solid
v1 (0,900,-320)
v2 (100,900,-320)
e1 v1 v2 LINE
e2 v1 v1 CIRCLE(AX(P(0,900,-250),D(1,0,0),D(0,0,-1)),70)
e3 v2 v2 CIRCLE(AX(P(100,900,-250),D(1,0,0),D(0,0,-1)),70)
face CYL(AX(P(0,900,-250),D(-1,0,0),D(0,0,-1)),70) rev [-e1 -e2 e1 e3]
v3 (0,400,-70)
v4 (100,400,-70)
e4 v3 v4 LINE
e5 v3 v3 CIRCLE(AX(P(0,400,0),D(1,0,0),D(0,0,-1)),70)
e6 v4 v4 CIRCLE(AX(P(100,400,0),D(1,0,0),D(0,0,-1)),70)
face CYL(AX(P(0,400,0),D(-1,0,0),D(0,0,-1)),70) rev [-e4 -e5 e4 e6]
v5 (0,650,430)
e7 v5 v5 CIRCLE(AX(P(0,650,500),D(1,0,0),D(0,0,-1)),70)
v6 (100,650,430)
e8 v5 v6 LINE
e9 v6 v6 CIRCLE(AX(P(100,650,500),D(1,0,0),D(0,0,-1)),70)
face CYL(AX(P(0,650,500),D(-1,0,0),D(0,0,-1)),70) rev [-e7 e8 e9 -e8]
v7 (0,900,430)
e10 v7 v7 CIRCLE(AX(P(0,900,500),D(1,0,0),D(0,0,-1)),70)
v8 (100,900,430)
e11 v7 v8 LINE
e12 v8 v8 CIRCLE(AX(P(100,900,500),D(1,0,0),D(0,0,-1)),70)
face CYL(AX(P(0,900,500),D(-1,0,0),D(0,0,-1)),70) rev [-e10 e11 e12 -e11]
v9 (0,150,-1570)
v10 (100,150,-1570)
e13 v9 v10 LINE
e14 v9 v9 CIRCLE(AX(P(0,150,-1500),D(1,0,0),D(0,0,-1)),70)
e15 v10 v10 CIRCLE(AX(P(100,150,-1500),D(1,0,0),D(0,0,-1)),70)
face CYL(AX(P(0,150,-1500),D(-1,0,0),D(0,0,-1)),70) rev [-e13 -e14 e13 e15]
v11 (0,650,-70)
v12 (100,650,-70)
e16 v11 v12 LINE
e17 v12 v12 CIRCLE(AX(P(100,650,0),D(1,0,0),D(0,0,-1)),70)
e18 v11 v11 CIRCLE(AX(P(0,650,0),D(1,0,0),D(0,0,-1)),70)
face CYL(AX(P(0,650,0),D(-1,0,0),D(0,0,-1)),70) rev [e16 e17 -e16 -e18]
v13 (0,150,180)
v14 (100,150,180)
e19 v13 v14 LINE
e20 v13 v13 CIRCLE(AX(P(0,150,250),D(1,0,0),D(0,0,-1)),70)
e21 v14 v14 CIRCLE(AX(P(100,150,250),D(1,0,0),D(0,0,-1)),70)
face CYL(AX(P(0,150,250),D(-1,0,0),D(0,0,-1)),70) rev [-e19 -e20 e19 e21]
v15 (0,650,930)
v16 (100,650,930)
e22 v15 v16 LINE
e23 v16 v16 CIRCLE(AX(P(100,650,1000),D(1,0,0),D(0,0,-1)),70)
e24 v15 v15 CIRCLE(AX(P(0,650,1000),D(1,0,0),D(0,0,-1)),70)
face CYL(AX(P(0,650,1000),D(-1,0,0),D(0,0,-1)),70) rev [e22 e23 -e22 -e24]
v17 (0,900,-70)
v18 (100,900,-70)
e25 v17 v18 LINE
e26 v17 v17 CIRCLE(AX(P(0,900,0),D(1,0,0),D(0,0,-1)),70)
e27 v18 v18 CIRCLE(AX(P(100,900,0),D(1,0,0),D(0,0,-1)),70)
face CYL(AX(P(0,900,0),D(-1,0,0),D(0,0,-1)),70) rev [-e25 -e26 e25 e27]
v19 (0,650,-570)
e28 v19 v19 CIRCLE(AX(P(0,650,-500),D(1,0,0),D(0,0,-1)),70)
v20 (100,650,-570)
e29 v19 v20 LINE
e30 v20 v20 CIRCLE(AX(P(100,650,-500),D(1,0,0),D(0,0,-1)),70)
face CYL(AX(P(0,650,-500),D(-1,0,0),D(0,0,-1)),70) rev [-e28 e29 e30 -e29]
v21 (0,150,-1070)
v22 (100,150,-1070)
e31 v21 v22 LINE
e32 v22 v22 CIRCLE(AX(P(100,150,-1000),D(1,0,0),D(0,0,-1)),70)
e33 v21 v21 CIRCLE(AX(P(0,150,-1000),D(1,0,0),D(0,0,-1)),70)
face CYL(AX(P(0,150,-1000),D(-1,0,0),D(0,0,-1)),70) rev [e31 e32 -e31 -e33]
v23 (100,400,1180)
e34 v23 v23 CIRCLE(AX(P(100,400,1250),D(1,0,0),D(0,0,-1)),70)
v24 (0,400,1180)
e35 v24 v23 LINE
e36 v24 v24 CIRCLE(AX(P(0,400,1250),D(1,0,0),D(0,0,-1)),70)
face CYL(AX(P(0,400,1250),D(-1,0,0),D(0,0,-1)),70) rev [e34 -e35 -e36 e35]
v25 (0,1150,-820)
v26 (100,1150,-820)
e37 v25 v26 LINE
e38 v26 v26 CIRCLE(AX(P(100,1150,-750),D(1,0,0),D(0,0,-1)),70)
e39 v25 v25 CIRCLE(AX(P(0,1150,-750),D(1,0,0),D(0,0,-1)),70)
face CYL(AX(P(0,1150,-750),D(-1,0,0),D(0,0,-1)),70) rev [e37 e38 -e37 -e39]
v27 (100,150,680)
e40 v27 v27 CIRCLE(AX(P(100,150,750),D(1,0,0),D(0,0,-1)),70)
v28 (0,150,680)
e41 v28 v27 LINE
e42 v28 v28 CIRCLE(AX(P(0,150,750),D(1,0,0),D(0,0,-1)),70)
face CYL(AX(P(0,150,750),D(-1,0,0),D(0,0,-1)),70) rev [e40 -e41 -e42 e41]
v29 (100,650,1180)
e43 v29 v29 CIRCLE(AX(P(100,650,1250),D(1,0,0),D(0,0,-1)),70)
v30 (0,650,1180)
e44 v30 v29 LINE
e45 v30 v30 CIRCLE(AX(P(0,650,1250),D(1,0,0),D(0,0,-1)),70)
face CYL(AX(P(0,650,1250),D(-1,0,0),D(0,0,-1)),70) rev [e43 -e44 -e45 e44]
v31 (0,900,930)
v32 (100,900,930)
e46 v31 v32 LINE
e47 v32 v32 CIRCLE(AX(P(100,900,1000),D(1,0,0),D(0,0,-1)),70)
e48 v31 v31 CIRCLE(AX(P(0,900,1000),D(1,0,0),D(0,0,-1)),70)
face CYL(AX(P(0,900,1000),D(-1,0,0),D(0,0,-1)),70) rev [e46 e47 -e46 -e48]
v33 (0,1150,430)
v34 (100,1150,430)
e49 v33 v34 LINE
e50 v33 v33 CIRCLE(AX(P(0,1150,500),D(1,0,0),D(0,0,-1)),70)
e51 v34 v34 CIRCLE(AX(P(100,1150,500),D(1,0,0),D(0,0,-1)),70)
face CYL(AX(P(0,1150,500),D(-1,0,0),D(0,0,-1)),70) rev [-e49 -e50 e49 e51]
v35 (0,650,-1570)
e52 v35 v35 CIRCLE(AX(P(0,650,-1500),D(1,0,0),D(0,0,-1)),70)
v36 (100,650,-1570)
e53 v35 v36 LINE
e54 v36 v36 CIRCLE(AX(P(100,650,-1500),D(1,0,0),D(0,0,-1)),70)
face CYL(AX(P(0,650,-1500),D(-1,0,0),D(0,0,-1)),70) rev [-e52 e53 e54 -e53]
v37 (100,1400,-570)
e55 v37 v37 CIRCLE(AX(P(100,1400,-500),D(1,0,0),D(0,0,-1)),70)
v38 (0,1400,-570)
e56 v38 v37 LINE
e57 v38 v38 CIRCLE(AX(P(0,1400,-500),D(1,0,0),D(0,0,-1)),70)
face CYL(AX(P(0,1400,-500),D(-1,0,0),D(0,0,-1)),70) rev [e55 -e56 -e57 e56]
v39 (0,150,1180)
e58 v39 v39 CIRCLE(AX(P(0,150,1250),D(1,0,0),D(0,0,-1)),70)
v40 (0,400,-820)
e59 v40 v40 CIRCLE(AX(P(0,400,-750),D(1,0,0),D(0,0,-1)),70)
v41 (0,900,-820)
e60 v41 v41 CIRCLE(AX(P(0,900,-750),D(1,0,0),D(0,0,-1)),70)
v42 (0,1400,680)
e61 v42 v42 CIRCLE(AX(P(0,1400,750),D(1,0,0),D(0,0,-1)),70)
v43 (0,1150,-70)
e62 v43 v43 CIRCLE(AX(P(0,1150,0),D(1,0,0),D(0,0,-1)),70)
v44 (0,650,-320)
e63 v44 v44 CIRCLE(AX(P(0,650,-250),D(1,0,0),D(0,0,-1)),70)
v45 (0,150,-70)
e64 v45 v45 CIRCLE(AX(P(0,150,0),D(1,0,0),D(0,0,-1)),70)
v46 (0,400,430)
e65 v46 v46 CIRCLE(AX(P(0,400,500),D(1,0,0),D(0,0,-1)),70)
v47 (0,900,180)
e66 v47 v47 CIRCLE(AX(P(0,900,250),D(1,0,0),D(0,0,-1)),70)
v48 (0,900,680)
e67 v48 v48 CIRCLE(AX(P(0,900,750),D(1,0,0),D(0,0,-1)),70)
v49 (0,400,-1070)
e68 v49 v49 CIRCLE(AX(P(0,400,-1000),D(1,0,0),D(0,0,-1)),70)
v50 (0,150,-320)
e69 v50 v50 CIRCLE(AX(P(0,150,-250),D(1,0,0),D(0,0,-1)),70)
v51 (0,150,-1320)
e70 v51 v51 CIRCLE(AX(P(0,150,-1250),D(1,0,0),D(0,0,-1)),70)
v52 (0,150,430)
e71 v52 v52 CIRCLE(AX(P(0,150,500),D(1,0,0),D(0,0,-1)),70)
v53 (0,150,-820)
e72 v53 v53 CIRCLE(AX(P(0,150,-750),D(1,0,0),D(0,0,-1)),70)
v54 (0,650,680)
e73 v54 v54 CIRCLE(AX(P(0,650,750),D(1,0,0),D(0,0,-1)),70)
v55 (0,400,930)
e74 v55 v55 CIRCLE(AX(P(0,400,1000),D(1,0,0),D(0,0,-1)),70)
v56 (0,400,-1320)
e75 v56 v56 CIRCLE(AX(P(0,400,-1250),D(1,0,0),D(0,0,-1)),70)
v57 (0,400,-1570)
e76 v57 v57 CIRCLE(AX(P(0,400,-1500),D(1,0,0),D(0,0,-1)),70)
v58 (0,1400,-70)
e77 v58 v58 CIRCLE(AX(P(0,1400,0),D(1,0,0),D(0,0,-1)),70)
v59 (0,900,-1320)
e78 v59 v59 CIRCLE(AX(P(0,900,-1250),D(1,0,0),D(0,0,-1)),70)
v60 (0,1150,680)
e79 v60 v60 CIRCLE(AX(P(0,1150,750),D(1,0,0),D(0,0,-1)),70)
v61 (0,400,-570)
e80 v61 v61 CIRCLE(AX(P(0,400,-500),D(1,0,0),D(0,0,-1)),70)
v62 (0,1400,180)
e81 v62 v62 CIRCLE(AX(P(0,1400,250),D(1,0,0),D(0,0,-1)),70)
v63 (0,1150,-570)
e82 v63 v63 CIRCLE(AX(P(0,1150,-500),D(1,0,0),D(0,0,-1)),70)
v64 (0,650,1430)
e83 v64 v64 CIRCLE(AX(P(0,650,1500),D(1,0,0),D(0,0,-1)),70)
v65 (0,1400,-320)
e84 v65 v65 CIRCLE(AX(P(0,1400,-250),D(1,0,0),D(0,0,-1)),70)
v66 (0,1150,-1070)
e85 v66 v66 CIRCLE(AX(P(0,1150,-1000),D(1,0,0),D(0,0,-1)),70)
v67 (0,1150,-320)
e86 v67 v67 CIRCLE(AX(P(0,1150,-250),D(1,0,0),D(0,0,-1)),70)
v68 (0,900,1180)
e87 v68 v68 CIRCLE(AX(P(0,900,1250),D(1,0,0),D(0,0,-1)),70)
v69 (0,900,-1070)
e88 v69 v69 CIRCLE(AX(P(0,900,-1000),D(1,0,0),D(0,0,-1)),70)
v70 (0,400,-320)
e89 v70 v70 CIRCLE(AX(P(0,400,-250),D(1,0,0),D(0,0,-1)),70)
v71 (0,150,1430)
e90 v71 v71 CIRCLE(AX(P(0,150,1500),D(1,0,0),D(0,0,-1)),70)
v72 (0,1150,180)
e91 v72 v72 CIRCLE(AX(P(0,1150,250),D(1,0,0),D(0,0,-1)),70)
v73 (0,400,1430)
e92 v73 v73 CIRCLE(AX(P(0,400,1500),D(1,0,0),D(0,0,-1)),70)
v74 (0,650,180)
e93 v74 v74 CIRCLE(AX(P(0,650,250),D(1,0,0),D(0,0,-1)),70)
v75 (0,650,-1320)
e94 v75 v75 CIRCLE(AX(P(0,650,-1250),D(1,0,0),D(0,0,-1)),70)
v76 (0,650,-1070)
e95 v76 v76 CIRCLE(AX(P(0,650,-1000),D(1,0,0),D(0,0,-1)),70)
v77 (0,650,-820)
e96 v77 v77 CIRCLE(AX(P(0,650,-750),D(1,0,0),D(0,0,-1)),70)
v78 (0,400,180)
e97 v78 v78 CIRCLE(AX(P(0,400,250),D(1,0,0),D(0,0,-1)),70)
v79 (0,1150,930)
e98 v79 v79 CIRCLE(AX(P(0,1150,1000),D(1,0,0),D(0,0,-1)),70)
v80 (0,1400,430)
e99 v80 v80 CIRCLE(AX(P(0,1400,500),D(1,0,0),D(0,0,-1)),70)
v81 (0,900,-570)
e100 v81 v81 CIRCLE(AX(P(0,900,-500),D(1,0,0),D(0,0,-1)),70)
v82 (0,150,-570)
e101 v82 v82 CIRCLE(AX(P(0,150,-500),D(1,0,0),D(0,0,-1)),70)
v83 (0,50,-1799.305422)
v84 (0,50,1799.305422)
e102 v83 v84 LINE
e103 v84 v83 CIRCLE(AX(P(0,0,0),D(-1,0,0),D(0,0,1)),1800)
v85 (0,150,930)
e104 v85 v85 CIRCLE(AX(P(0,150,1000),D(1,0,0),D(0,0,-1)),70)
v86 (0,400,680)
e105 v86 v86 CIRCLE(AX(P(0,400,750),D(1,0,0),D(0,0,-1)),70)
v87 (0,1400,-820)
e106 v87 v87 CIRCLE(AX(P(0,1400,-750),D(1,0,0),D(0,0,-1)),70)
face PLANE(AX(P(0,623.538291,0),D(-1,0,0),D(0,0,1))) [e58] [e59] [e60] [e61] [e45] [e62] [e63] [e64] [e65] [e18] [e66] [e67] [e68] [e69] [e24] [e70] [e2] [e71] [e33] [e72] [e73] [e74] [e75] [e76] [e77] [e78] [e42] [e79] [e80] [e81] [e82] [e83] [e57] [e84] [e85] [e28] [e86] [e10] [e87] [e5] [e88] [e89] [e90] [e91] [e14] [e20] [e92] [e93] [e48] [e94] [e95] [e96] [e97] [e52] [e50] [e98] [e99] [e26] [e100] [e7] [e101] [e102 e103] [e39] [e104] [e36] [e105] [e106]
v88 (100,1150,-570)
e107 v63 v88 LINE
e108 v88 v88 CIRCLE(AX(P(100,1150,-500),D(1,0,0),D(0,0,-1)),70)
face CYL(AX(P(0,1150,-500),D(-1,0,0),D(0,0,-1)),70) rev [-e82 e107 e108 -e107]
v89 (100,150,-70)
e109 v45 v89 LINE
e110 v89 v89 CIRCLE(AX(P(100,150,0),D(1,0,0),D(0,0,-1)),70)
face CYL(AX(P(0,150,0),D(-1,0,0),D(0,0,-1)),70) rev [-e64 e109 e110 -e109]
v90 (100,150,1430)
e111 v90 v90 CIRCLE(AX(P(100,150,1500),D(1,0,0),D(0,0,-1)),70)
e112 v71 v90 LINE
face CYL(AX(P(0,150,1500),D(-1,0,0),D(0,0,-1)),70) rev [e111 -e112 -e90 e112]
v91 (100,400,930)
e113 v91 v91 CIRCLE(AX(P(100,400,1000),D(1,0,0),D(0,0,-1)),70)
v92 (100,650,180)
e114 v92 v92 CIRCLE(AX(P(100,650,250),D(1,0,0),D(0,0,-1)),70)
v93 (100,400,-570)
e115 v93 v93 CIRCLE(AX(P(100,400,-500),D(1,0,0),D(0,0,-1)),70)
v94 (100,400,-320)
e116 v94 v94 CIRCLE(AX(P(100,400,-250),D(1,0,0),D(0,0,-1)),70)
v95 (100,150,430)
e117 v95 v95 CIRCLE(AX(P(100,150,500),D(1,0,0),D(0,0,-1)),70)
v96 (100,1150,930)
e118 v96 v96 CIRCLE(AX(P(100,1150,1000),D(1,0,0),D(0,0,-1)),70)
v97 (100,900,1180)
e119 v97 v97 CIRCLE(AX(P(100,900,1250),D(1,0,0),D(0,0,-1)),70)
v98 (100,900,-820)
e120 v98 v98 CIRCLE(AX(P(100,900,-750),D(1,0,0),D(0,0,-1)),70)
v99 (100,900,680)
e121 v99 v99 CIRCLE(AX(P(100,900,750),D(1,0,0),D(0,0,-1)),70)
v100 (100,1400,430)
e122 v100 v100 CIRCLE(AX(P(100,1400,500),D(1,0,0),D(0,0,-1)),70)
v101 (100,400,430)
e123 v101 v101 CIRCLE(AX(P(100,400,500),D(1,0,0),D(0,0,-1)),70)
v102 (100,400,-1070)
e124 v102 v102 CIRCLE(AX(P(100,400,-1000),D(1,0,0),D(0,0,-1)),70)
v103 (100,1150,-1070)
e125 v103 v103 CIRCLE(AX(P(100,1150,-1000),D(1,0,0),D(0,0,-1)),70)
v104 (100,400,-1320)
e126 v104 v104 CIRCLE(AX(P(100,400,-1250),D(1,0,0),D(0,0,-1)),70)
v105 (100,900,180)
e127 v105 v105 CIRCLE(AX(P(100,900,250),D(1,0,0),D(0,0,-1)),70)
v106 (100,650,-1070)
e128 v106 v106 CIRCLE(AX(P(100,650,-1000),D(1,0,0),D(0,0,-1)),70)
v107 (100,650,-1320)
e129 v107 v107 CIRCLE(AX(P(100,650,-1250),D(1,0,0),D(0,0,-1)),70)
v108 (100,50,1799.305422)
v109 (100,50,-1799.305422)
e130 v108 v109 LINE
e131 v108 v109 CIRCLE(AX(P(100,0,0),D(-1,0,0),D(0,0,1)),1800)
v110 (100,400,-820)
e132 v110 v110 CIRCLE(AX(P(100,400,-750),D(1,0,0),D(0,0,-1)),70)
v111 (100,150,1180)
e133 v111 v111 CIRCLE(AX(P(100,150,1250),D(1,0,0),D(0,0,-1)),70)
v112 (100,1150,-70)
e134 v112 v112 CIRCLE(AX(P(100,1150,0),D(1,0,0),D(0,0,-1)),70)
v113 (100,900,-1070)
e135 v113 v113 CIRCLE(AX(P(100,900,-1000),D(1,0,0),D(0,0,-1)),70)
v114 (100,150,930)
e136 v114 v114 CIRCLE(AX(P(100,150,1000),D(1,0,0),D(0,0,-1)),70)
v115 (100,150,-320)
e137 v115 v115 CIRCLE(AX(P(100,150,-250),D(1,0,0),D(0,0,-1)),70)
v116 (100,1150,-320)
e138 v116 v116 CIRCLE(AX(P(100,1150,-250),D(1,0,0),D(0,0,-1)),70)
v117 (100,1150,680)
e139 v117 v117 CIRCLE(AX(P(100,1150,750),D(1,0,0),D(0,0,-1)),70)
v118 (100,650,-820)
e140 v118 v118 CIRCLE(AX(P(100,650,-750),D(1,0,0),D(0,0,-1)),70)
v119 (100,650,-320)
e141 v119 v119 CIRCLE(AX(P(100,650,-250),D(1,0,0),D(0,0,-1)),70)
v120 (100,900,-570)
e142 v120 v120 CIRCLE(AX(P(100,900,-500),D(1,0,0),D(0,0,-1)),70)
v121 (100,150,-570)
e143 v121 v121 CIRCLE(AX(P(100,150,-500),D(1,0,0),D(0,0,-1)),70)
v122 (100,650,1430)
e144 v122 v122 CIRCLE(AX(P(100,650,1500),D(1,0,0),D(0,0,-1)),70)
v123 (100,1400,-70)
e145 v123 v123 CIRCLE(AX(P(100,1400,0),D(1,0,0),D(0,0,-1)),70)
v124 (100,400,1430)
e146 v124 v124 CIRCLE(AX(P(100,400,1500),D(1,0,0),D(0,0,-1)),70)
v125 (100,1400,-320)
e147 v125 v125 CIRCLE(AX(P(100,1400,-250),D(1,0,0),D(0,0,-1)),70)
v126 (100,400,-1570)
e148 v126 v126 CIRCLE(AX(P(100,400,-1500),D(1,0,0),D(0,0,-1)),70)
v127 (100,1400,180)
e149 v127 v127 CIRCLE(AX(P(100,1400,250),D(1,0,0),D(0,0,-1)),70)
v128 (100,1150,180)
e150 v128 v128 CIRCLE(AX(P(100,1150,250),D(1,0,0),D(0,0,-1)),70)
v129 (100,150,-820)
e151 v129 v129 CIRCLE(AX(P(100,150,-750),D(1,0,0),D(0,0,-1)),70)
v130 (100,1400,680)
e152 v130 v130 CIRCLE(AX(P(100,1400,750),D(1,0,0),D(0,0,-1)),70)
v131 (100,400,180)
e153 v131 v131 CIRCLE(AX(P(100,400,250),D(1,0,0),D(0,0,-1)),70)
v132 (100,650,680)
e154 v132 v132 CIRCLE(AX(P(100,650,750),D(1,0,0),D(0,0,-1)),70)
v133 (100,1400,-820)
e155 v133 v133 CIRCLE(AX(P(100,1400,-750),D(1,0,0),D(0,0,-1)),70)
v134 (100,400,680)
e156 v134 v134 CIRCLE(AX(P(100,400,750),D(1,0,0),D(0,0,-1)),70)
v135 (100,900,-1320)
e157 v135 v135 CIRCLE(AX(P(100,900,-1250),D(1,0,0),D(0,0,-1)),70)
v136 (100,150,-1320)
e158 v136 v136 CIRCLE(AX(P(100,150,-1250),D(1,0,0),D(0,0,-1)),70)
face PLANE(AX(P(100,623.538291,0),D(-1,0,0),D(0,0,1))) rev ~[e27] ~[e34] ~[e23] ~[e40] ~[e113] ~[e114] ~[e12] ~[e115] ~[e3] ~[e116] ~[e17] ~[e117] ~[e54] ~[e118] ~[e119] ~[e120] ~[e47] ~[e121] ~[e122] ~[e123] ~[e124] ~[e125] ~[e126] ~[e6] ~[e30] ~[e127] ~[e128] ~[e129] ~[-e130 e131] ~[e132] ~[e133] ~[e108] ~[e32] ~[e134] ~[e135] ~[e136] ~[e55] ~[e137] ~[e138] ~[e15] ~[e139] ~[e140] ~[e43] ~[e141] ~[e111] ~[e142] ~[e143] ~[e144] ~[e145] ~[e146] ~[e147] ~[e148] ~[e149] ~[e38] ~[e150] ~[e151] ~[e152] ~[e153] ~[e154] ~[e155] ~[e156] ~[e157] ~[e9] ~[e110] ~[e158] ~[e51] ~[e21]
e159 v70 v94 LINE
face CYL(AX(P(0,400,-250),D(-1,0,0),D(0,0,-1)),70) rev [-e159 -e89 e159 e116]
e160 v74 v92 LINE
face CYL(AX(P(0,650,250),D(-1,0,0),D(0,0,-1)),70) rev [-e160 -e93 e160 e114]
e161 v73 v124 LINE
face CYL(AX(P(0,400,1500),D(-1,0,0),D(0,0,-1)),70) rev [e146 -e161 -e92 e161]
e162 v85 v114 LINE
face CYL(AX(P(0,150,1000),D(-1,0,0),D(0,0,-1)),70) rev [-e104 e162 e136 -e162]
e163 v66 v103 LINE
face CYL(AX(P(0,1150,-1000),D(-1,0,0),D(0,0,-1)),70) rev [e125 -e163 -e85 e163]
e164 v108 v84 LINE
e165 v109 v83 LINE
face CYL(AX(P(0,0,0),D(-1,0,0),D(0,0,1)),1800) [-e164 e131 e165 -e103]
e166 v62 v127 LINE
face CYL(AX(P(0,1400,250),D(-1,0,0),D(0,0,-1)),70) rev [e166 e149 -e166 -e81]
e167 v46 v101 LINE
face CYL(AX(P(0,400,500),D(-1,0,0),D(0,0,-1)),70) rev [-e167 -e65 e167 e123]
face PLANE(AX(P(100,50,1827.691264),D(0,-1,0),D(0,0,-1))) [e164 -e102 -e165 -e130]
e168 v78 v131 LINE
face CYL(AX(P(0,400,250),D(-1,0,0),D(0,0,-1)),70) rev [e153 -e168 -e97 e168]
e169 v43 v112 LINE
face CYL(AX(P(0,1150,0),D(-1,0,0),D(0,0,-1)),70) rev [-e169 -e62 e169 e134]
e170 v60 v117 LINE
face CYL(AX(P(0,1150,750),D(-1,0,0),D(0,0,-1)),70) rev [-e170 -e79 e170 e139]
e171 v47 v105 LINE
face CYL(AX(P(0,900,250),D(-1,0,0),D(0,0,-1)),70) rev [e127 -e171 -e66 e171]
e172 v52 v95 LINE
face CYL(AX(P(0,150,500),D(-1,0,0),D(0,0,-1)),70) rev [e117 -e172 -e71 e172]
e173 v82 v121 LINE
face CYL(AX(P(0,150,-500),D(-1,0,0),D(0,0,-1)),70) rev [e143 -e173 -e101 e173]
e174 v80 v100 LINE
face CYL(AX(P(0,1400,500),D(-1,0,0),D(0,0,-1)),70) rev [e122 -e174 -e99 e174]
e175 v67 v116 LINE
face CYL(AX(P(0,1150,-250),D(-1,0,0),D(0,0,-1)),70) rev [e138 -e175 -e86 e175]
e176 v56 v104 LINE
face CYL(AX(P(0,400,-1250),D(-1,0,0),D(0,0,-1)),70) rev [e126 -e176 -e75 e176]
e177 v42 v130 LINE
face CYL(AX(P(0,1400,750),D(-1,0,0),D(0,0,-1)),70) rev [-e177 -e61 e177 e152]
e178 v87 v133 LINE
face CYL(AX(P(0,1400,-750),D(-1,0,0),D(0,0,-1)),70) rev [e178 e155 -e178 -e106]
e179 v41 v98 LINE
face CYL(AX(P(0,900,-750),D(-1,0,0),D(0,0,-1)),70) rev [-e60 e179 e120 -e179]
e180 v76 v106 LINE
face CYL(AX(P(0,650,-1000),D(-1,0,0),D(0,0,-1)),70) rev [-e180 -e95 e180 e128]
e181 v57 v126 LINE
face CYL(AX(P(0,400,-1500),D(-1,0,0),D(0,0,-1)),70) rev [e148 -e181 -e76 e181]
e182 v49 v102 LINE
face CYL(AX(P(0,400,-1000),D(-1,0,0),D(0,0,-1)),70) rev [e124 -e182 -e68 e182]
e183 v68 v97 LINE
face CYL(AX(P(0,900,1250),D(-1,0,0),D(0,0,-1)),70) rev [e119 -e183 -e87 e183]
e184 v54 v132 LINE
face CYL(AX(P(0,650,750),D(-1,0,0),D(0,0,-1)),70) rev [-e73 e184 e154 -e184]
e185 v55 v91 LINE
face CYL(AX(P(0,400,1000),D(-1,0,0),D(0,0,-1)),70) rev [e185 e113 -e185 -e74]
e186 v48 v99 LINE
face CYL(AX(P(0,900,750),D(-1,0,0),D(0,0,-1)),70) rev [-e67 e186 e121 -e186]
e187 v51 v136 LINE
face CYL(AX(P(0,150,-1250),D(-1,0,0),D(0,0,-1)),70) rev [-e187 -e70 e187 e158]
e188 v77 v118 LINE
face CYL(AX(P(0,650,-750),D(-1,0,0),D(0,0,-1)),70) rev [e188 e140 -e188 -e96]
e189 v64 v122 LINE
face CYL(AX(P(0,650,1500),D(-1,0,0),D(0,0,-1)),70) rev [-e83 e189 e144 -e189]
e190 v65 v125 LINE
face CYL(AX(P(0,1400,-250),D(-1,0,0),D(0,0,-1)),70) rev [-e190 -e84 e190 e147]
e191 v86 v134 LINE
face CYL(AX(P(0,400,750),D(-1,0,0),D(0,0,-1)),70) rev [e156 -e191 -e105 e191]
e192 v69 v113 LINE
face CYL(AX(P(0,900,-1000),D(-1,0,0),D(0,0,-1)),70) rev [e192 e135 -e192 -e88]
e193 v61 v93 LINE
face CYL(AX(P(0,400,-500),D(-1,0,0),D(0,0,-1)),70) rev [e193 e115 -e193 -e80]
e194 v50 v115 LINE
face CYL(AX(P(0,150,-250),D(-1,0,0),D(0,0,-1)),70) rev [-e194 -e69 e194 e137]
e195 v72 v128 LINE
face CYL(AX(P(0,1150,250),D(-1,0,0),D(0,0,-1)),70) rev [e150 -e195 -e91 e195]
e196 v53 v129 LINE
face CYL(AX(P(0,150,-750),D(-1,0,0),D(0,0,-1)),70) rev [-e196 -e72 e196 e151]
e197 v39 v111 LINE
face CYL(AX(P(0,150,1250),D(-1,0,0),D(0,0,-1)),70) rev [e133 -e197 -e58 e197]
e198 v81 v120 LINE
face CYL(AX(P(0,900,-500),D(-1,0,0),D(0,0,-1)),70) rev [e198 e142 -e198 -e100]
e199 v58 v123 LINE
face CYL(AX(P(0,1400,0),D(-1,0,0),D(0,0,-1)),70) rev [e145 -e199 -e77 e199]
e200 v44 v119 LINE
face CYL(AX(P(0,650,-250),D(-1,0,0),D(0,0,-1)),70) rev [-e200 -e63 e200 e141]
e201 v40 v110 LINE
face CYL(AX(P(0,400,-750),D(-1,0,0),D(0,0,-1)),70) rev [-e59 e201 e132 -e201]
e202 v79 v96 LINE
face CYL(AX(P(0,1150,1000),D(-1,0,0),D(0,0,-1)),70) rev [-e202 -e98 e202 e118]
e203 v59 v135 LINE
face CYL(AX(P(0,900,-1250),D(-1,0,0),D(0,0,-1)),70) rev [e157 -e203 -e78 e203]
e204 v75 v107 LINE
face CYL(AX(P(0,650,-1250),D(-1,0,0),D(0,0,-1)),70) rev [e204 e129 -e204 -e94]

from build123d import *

# Parameters (mm, degrees)
SKETCH1_R           = 70
BOSS_EXTRUDE1_DEPTH = 100
SKETCH2_W           = 3655.38252847
SKETCH2_H           = 100
CUT_EXTRUDE1_DEPTH  = 101


with BuildPart() as part:
    # Sketch1 → Boss-Extrude1 (new body)
    with BuildSketch(Plane(origin=(0, 0, 0), x_dir=(0, 0, -1), z_dir=(1, 0, 0))):
        with BuildLine():
            Line((1800, 0), (-1800, 0))
            ThreePointArc((-1800, 0), (0, 1800), (1800, 0))
        make_face()
        with Locations((0, 150)):
            Circle(SKETCH1_R, mode=Mode.SUBTRACT)
        with Locations((250, 150)):
            Circle(SKETCH1_R, mode=Mode.SUBTRACT)
        with Locations((500, 150)):
            Circle(SKETCH1_R, mode=Mode.SUBTRACT)
        with Locations((750, 150)):
            Circle(SKETCH1_R, mode=Mode.SUBTRACT)
        with Locations((1000, 150)):
            Circle(SKETCH1_R, mode=Mode.SUBTRACT)
        with Locations((1250, 150)):
            Circle(SKETCH1_R, mode=Mode.SUBTRACT)
        with Locations((1500, 150)):
            Circle(SKETCH1_R, mode=Mode.SUBTRACT)
        with Locations((250, 400)):
            Circle(SKETCH1_R, mode=Mode.SUBTRACT)
        with Locations((500, 400)):
            Circle(SKETCH1_R, mode=Mode.SUBTRACT)
        with Locations((750, 400)):
            Circle(SKETCH1_R, mode=Mode.SUBTRACT)
        with Locations((1000, 400)):
            Circle(SKETCH1_R, mode=Mode.SUBTRACT)
        with Locations((1250, 400)):
            Circle(SKETCH1_R, mode=Mode.SUBTRACT)
        with Locations((1500, 400)):
            Circle(SKETCH1_R, mode=Mode.SUBTRACT)
        with Locations((250, 650)):
            Circle(SKETCH1_R, mode=Mode.SUBTRACT)
        with Locations((500, 650)):
            Circle(SKETCH1_R, mode=Mode.SUBTRACT)
        with Locations((750, 650)):
            Circle(SKETCH1_R, mode=Mode.SUBTRACT)
        with Locations((1000, 650)):
            Circle(SKETCH1_R, mode=Mode.SUBTRACT)
        with Locations((1250, 650)):
            Circle(SKETCH1_R, mode=Mode.SUBTRACT)
        with Locations((1500, 650)):
            Circle(SKETCH1_R, mode=Mode.SUBTRACT)
        with Locations((250, 900)):
            Circle(SKETCH1_R, mode=Mode.SUBTRACT)
        with Locations((500, 900)):
            Circle(SKETCH1_R, mode=Mode.SUBTRACT)
        with Locations((750, 900)):
            Circle(SKETCH1_R, mode=Mode.SUBTRACT)
        with Locations((1000, 900)):
            Circle(SKETCH1_R, mode=Mode.SUBTRACT)
        with Locations((1250, 900)):
            Circle(SKETCH1_R, mode=Mode.SUBTRACT)
        with Locations((250, 1150)):
            Circle(SKETCH1_R, mode=Mode.SUBTRACT)
        with Locations((500, 1150)):
            Circle(SKETCH1_R, mode=Mode.SUBTRACT)
        with Locations((750, 1150)):
            Circle(SKETCH1_R, mode=Mode.SUBTRACT)
        with Locations((1000, 1150)):
            Circle(SKETCH1_R, mode=Mode.SUBTRACT)
        with Locations((250, 1400)):
            Circle(SKETCH1_R, mode=Mode.SUBTRACT)
        with Locations((500, 1400)):
            Circle(SKETCH1_R, mode=Mode.SUBTRACT)
        with Locations((750, 1400)):
            Circle(SKETCH1_R, mode=Mode.SUBTRACT)
        with Locations((0, 400)):
            Circle(SKETCH1_R, mode=Mode.SUBTRACT)
        with Locations((0, 650)):
            Circle(SKETCH1_R, mode=Mode.SUBTRACT)
        with Locations((0, 900)):
            Circle(SKETCH1_R, mode=Mode.SUBTRACT)
        with Locations((0, 1150)):
            Circle(SKETCH1_R, mode=Mode.SUBTRACT)
        with Locations((0, 1400)):
            Circle(SKETCH1_R, mode=Mode.SUBTRACT)
        with Locations((-750, 1400)):
            Circle(SKETCH1_R, mode=Mode.SUBTRACT)
        with Locations((-500, 1400)):
            Circle(SKETCH1_R, mode=Mode.SUBTRACT)
        with Locations((-250, 1400)):
            Circle(SKETCH1_R, mode=Mode.SUBTRACT)
        with Locations((-1000, 1150)):
            Circle(SKETCH1_R, mode=Mode.SUBTRACT)
        with Locations((-750, 1150)):
            Circle(SKETCH1_R, mode=Mode.SUBTRACT)
        with Locations((-500, 1150)):
            Circle(SKETCH1_R, mode=Mode.SUBTRACT)
        with Locations((-250, 1150)):
            Circle(SKETCH1_R, mode=Mode.SUBTRACT)
        with Locations((-1250, 900)):
            Circle(SKETCH1_R, mode=Mode.SUBTRACT)
        with Locations((-1000, 900)):
            Circle(SKETCH1_R, mode=Mode.SUBTRACT)
        with Locations((-750, 900)):
            Circle(SKETCH1_R, mode=Mode.SUBTRACT)
        with Locations((-500, 900)):
            Circle(SKETCH1_R, mode=Mode.SUBTRACT)
        with Locations((-250, 900)):
            Circle(SKETCH1_R, mode=Mode.SUBTRACT)
        with Locations((-1500, 650)):
            Circle(SKETCH1_R, mode=Mode.SUBTRACT)
        with Locations((-1250, 650)):
            Circle(SKETCH1_R, mode=Mode.SUBTRACT)
        with Locations((-1000, 650)):
            Circle(SKETCH1_R, mode=Mode.SUBTRACT)
        with Locations((-750, 650)):
            Circle(SKETCH1_R, mode=Mode.SUBTRACT)
        with Locations((-500, 650)):
            Circle(SKETCH1_R, mode=Mode.SUBTRACT)
        with Locations((-250, 650)):
            Circle(SKETCH1_R, mode=Mode.SUBTRACT)
        with Locations((-1500, 400)):
            Circle(SKETCH1_R, mode=Mode.SUBTRACT)
        with Locations((-1250, 400)):
            Circle(SKETCH1_R, mode=Mode.SUBTRACT)
        with Locations((-1000, 400)):
            Circle(SKETCH1_R, mode=Mode.SUBTRACT)
        with Locations((-750, 400)):
            Circle(SKETCH1_R, mode=Mode.SUBTRACT)
        with Locations((-500, 400)):
            Circle(SKETCH1_R, mode=Mode.SUBTRACT)
        with Locations((-250, 400)):
            Circle(SKETCH1_R, mode=Mode.SUBTRACT)
        with Locations((-1500, 150)):
            Circle(SKETCH1_R, mode=Mode.SUBTRACT)
        with Locations((-1250, 150)):
            Circle(SKETCH1_R, mode=Mode.SUBTRACT)
        with Locations((-1000, 150)):
            Circle(SKETCH1_R, mode=Mode.SUBTRACT)
        with Locations((-750, 150)):
            Circle(SKETCH1_R, mode=Mode.SUBTRACT)
        with Locations((-500, 150)):
            Circle(SKETCH1_R, mode=Mode.SUBTRACT)
        with Locations((-250, 150)):
            Circle(SKETCH1_R, mode=Mode.SUBTRACT)
    extrude(amount=BOSS_EXTRUDE1_DEPTH)

    # Sketch2 → Cut-Extrude1 (cut, through all)
    with BuildSketch(Plane(origin=(100, 0, 0), x_dir=(0, 0, -1), z_dir=(1, 0, 0))):
        Rectangle(SKETCH2_W, SKETCH2_H)
    extrude(amount=-CUT_EXTRUDE1_DEPTH, mode=Mode.SUBTRACT)


solid = part.part
